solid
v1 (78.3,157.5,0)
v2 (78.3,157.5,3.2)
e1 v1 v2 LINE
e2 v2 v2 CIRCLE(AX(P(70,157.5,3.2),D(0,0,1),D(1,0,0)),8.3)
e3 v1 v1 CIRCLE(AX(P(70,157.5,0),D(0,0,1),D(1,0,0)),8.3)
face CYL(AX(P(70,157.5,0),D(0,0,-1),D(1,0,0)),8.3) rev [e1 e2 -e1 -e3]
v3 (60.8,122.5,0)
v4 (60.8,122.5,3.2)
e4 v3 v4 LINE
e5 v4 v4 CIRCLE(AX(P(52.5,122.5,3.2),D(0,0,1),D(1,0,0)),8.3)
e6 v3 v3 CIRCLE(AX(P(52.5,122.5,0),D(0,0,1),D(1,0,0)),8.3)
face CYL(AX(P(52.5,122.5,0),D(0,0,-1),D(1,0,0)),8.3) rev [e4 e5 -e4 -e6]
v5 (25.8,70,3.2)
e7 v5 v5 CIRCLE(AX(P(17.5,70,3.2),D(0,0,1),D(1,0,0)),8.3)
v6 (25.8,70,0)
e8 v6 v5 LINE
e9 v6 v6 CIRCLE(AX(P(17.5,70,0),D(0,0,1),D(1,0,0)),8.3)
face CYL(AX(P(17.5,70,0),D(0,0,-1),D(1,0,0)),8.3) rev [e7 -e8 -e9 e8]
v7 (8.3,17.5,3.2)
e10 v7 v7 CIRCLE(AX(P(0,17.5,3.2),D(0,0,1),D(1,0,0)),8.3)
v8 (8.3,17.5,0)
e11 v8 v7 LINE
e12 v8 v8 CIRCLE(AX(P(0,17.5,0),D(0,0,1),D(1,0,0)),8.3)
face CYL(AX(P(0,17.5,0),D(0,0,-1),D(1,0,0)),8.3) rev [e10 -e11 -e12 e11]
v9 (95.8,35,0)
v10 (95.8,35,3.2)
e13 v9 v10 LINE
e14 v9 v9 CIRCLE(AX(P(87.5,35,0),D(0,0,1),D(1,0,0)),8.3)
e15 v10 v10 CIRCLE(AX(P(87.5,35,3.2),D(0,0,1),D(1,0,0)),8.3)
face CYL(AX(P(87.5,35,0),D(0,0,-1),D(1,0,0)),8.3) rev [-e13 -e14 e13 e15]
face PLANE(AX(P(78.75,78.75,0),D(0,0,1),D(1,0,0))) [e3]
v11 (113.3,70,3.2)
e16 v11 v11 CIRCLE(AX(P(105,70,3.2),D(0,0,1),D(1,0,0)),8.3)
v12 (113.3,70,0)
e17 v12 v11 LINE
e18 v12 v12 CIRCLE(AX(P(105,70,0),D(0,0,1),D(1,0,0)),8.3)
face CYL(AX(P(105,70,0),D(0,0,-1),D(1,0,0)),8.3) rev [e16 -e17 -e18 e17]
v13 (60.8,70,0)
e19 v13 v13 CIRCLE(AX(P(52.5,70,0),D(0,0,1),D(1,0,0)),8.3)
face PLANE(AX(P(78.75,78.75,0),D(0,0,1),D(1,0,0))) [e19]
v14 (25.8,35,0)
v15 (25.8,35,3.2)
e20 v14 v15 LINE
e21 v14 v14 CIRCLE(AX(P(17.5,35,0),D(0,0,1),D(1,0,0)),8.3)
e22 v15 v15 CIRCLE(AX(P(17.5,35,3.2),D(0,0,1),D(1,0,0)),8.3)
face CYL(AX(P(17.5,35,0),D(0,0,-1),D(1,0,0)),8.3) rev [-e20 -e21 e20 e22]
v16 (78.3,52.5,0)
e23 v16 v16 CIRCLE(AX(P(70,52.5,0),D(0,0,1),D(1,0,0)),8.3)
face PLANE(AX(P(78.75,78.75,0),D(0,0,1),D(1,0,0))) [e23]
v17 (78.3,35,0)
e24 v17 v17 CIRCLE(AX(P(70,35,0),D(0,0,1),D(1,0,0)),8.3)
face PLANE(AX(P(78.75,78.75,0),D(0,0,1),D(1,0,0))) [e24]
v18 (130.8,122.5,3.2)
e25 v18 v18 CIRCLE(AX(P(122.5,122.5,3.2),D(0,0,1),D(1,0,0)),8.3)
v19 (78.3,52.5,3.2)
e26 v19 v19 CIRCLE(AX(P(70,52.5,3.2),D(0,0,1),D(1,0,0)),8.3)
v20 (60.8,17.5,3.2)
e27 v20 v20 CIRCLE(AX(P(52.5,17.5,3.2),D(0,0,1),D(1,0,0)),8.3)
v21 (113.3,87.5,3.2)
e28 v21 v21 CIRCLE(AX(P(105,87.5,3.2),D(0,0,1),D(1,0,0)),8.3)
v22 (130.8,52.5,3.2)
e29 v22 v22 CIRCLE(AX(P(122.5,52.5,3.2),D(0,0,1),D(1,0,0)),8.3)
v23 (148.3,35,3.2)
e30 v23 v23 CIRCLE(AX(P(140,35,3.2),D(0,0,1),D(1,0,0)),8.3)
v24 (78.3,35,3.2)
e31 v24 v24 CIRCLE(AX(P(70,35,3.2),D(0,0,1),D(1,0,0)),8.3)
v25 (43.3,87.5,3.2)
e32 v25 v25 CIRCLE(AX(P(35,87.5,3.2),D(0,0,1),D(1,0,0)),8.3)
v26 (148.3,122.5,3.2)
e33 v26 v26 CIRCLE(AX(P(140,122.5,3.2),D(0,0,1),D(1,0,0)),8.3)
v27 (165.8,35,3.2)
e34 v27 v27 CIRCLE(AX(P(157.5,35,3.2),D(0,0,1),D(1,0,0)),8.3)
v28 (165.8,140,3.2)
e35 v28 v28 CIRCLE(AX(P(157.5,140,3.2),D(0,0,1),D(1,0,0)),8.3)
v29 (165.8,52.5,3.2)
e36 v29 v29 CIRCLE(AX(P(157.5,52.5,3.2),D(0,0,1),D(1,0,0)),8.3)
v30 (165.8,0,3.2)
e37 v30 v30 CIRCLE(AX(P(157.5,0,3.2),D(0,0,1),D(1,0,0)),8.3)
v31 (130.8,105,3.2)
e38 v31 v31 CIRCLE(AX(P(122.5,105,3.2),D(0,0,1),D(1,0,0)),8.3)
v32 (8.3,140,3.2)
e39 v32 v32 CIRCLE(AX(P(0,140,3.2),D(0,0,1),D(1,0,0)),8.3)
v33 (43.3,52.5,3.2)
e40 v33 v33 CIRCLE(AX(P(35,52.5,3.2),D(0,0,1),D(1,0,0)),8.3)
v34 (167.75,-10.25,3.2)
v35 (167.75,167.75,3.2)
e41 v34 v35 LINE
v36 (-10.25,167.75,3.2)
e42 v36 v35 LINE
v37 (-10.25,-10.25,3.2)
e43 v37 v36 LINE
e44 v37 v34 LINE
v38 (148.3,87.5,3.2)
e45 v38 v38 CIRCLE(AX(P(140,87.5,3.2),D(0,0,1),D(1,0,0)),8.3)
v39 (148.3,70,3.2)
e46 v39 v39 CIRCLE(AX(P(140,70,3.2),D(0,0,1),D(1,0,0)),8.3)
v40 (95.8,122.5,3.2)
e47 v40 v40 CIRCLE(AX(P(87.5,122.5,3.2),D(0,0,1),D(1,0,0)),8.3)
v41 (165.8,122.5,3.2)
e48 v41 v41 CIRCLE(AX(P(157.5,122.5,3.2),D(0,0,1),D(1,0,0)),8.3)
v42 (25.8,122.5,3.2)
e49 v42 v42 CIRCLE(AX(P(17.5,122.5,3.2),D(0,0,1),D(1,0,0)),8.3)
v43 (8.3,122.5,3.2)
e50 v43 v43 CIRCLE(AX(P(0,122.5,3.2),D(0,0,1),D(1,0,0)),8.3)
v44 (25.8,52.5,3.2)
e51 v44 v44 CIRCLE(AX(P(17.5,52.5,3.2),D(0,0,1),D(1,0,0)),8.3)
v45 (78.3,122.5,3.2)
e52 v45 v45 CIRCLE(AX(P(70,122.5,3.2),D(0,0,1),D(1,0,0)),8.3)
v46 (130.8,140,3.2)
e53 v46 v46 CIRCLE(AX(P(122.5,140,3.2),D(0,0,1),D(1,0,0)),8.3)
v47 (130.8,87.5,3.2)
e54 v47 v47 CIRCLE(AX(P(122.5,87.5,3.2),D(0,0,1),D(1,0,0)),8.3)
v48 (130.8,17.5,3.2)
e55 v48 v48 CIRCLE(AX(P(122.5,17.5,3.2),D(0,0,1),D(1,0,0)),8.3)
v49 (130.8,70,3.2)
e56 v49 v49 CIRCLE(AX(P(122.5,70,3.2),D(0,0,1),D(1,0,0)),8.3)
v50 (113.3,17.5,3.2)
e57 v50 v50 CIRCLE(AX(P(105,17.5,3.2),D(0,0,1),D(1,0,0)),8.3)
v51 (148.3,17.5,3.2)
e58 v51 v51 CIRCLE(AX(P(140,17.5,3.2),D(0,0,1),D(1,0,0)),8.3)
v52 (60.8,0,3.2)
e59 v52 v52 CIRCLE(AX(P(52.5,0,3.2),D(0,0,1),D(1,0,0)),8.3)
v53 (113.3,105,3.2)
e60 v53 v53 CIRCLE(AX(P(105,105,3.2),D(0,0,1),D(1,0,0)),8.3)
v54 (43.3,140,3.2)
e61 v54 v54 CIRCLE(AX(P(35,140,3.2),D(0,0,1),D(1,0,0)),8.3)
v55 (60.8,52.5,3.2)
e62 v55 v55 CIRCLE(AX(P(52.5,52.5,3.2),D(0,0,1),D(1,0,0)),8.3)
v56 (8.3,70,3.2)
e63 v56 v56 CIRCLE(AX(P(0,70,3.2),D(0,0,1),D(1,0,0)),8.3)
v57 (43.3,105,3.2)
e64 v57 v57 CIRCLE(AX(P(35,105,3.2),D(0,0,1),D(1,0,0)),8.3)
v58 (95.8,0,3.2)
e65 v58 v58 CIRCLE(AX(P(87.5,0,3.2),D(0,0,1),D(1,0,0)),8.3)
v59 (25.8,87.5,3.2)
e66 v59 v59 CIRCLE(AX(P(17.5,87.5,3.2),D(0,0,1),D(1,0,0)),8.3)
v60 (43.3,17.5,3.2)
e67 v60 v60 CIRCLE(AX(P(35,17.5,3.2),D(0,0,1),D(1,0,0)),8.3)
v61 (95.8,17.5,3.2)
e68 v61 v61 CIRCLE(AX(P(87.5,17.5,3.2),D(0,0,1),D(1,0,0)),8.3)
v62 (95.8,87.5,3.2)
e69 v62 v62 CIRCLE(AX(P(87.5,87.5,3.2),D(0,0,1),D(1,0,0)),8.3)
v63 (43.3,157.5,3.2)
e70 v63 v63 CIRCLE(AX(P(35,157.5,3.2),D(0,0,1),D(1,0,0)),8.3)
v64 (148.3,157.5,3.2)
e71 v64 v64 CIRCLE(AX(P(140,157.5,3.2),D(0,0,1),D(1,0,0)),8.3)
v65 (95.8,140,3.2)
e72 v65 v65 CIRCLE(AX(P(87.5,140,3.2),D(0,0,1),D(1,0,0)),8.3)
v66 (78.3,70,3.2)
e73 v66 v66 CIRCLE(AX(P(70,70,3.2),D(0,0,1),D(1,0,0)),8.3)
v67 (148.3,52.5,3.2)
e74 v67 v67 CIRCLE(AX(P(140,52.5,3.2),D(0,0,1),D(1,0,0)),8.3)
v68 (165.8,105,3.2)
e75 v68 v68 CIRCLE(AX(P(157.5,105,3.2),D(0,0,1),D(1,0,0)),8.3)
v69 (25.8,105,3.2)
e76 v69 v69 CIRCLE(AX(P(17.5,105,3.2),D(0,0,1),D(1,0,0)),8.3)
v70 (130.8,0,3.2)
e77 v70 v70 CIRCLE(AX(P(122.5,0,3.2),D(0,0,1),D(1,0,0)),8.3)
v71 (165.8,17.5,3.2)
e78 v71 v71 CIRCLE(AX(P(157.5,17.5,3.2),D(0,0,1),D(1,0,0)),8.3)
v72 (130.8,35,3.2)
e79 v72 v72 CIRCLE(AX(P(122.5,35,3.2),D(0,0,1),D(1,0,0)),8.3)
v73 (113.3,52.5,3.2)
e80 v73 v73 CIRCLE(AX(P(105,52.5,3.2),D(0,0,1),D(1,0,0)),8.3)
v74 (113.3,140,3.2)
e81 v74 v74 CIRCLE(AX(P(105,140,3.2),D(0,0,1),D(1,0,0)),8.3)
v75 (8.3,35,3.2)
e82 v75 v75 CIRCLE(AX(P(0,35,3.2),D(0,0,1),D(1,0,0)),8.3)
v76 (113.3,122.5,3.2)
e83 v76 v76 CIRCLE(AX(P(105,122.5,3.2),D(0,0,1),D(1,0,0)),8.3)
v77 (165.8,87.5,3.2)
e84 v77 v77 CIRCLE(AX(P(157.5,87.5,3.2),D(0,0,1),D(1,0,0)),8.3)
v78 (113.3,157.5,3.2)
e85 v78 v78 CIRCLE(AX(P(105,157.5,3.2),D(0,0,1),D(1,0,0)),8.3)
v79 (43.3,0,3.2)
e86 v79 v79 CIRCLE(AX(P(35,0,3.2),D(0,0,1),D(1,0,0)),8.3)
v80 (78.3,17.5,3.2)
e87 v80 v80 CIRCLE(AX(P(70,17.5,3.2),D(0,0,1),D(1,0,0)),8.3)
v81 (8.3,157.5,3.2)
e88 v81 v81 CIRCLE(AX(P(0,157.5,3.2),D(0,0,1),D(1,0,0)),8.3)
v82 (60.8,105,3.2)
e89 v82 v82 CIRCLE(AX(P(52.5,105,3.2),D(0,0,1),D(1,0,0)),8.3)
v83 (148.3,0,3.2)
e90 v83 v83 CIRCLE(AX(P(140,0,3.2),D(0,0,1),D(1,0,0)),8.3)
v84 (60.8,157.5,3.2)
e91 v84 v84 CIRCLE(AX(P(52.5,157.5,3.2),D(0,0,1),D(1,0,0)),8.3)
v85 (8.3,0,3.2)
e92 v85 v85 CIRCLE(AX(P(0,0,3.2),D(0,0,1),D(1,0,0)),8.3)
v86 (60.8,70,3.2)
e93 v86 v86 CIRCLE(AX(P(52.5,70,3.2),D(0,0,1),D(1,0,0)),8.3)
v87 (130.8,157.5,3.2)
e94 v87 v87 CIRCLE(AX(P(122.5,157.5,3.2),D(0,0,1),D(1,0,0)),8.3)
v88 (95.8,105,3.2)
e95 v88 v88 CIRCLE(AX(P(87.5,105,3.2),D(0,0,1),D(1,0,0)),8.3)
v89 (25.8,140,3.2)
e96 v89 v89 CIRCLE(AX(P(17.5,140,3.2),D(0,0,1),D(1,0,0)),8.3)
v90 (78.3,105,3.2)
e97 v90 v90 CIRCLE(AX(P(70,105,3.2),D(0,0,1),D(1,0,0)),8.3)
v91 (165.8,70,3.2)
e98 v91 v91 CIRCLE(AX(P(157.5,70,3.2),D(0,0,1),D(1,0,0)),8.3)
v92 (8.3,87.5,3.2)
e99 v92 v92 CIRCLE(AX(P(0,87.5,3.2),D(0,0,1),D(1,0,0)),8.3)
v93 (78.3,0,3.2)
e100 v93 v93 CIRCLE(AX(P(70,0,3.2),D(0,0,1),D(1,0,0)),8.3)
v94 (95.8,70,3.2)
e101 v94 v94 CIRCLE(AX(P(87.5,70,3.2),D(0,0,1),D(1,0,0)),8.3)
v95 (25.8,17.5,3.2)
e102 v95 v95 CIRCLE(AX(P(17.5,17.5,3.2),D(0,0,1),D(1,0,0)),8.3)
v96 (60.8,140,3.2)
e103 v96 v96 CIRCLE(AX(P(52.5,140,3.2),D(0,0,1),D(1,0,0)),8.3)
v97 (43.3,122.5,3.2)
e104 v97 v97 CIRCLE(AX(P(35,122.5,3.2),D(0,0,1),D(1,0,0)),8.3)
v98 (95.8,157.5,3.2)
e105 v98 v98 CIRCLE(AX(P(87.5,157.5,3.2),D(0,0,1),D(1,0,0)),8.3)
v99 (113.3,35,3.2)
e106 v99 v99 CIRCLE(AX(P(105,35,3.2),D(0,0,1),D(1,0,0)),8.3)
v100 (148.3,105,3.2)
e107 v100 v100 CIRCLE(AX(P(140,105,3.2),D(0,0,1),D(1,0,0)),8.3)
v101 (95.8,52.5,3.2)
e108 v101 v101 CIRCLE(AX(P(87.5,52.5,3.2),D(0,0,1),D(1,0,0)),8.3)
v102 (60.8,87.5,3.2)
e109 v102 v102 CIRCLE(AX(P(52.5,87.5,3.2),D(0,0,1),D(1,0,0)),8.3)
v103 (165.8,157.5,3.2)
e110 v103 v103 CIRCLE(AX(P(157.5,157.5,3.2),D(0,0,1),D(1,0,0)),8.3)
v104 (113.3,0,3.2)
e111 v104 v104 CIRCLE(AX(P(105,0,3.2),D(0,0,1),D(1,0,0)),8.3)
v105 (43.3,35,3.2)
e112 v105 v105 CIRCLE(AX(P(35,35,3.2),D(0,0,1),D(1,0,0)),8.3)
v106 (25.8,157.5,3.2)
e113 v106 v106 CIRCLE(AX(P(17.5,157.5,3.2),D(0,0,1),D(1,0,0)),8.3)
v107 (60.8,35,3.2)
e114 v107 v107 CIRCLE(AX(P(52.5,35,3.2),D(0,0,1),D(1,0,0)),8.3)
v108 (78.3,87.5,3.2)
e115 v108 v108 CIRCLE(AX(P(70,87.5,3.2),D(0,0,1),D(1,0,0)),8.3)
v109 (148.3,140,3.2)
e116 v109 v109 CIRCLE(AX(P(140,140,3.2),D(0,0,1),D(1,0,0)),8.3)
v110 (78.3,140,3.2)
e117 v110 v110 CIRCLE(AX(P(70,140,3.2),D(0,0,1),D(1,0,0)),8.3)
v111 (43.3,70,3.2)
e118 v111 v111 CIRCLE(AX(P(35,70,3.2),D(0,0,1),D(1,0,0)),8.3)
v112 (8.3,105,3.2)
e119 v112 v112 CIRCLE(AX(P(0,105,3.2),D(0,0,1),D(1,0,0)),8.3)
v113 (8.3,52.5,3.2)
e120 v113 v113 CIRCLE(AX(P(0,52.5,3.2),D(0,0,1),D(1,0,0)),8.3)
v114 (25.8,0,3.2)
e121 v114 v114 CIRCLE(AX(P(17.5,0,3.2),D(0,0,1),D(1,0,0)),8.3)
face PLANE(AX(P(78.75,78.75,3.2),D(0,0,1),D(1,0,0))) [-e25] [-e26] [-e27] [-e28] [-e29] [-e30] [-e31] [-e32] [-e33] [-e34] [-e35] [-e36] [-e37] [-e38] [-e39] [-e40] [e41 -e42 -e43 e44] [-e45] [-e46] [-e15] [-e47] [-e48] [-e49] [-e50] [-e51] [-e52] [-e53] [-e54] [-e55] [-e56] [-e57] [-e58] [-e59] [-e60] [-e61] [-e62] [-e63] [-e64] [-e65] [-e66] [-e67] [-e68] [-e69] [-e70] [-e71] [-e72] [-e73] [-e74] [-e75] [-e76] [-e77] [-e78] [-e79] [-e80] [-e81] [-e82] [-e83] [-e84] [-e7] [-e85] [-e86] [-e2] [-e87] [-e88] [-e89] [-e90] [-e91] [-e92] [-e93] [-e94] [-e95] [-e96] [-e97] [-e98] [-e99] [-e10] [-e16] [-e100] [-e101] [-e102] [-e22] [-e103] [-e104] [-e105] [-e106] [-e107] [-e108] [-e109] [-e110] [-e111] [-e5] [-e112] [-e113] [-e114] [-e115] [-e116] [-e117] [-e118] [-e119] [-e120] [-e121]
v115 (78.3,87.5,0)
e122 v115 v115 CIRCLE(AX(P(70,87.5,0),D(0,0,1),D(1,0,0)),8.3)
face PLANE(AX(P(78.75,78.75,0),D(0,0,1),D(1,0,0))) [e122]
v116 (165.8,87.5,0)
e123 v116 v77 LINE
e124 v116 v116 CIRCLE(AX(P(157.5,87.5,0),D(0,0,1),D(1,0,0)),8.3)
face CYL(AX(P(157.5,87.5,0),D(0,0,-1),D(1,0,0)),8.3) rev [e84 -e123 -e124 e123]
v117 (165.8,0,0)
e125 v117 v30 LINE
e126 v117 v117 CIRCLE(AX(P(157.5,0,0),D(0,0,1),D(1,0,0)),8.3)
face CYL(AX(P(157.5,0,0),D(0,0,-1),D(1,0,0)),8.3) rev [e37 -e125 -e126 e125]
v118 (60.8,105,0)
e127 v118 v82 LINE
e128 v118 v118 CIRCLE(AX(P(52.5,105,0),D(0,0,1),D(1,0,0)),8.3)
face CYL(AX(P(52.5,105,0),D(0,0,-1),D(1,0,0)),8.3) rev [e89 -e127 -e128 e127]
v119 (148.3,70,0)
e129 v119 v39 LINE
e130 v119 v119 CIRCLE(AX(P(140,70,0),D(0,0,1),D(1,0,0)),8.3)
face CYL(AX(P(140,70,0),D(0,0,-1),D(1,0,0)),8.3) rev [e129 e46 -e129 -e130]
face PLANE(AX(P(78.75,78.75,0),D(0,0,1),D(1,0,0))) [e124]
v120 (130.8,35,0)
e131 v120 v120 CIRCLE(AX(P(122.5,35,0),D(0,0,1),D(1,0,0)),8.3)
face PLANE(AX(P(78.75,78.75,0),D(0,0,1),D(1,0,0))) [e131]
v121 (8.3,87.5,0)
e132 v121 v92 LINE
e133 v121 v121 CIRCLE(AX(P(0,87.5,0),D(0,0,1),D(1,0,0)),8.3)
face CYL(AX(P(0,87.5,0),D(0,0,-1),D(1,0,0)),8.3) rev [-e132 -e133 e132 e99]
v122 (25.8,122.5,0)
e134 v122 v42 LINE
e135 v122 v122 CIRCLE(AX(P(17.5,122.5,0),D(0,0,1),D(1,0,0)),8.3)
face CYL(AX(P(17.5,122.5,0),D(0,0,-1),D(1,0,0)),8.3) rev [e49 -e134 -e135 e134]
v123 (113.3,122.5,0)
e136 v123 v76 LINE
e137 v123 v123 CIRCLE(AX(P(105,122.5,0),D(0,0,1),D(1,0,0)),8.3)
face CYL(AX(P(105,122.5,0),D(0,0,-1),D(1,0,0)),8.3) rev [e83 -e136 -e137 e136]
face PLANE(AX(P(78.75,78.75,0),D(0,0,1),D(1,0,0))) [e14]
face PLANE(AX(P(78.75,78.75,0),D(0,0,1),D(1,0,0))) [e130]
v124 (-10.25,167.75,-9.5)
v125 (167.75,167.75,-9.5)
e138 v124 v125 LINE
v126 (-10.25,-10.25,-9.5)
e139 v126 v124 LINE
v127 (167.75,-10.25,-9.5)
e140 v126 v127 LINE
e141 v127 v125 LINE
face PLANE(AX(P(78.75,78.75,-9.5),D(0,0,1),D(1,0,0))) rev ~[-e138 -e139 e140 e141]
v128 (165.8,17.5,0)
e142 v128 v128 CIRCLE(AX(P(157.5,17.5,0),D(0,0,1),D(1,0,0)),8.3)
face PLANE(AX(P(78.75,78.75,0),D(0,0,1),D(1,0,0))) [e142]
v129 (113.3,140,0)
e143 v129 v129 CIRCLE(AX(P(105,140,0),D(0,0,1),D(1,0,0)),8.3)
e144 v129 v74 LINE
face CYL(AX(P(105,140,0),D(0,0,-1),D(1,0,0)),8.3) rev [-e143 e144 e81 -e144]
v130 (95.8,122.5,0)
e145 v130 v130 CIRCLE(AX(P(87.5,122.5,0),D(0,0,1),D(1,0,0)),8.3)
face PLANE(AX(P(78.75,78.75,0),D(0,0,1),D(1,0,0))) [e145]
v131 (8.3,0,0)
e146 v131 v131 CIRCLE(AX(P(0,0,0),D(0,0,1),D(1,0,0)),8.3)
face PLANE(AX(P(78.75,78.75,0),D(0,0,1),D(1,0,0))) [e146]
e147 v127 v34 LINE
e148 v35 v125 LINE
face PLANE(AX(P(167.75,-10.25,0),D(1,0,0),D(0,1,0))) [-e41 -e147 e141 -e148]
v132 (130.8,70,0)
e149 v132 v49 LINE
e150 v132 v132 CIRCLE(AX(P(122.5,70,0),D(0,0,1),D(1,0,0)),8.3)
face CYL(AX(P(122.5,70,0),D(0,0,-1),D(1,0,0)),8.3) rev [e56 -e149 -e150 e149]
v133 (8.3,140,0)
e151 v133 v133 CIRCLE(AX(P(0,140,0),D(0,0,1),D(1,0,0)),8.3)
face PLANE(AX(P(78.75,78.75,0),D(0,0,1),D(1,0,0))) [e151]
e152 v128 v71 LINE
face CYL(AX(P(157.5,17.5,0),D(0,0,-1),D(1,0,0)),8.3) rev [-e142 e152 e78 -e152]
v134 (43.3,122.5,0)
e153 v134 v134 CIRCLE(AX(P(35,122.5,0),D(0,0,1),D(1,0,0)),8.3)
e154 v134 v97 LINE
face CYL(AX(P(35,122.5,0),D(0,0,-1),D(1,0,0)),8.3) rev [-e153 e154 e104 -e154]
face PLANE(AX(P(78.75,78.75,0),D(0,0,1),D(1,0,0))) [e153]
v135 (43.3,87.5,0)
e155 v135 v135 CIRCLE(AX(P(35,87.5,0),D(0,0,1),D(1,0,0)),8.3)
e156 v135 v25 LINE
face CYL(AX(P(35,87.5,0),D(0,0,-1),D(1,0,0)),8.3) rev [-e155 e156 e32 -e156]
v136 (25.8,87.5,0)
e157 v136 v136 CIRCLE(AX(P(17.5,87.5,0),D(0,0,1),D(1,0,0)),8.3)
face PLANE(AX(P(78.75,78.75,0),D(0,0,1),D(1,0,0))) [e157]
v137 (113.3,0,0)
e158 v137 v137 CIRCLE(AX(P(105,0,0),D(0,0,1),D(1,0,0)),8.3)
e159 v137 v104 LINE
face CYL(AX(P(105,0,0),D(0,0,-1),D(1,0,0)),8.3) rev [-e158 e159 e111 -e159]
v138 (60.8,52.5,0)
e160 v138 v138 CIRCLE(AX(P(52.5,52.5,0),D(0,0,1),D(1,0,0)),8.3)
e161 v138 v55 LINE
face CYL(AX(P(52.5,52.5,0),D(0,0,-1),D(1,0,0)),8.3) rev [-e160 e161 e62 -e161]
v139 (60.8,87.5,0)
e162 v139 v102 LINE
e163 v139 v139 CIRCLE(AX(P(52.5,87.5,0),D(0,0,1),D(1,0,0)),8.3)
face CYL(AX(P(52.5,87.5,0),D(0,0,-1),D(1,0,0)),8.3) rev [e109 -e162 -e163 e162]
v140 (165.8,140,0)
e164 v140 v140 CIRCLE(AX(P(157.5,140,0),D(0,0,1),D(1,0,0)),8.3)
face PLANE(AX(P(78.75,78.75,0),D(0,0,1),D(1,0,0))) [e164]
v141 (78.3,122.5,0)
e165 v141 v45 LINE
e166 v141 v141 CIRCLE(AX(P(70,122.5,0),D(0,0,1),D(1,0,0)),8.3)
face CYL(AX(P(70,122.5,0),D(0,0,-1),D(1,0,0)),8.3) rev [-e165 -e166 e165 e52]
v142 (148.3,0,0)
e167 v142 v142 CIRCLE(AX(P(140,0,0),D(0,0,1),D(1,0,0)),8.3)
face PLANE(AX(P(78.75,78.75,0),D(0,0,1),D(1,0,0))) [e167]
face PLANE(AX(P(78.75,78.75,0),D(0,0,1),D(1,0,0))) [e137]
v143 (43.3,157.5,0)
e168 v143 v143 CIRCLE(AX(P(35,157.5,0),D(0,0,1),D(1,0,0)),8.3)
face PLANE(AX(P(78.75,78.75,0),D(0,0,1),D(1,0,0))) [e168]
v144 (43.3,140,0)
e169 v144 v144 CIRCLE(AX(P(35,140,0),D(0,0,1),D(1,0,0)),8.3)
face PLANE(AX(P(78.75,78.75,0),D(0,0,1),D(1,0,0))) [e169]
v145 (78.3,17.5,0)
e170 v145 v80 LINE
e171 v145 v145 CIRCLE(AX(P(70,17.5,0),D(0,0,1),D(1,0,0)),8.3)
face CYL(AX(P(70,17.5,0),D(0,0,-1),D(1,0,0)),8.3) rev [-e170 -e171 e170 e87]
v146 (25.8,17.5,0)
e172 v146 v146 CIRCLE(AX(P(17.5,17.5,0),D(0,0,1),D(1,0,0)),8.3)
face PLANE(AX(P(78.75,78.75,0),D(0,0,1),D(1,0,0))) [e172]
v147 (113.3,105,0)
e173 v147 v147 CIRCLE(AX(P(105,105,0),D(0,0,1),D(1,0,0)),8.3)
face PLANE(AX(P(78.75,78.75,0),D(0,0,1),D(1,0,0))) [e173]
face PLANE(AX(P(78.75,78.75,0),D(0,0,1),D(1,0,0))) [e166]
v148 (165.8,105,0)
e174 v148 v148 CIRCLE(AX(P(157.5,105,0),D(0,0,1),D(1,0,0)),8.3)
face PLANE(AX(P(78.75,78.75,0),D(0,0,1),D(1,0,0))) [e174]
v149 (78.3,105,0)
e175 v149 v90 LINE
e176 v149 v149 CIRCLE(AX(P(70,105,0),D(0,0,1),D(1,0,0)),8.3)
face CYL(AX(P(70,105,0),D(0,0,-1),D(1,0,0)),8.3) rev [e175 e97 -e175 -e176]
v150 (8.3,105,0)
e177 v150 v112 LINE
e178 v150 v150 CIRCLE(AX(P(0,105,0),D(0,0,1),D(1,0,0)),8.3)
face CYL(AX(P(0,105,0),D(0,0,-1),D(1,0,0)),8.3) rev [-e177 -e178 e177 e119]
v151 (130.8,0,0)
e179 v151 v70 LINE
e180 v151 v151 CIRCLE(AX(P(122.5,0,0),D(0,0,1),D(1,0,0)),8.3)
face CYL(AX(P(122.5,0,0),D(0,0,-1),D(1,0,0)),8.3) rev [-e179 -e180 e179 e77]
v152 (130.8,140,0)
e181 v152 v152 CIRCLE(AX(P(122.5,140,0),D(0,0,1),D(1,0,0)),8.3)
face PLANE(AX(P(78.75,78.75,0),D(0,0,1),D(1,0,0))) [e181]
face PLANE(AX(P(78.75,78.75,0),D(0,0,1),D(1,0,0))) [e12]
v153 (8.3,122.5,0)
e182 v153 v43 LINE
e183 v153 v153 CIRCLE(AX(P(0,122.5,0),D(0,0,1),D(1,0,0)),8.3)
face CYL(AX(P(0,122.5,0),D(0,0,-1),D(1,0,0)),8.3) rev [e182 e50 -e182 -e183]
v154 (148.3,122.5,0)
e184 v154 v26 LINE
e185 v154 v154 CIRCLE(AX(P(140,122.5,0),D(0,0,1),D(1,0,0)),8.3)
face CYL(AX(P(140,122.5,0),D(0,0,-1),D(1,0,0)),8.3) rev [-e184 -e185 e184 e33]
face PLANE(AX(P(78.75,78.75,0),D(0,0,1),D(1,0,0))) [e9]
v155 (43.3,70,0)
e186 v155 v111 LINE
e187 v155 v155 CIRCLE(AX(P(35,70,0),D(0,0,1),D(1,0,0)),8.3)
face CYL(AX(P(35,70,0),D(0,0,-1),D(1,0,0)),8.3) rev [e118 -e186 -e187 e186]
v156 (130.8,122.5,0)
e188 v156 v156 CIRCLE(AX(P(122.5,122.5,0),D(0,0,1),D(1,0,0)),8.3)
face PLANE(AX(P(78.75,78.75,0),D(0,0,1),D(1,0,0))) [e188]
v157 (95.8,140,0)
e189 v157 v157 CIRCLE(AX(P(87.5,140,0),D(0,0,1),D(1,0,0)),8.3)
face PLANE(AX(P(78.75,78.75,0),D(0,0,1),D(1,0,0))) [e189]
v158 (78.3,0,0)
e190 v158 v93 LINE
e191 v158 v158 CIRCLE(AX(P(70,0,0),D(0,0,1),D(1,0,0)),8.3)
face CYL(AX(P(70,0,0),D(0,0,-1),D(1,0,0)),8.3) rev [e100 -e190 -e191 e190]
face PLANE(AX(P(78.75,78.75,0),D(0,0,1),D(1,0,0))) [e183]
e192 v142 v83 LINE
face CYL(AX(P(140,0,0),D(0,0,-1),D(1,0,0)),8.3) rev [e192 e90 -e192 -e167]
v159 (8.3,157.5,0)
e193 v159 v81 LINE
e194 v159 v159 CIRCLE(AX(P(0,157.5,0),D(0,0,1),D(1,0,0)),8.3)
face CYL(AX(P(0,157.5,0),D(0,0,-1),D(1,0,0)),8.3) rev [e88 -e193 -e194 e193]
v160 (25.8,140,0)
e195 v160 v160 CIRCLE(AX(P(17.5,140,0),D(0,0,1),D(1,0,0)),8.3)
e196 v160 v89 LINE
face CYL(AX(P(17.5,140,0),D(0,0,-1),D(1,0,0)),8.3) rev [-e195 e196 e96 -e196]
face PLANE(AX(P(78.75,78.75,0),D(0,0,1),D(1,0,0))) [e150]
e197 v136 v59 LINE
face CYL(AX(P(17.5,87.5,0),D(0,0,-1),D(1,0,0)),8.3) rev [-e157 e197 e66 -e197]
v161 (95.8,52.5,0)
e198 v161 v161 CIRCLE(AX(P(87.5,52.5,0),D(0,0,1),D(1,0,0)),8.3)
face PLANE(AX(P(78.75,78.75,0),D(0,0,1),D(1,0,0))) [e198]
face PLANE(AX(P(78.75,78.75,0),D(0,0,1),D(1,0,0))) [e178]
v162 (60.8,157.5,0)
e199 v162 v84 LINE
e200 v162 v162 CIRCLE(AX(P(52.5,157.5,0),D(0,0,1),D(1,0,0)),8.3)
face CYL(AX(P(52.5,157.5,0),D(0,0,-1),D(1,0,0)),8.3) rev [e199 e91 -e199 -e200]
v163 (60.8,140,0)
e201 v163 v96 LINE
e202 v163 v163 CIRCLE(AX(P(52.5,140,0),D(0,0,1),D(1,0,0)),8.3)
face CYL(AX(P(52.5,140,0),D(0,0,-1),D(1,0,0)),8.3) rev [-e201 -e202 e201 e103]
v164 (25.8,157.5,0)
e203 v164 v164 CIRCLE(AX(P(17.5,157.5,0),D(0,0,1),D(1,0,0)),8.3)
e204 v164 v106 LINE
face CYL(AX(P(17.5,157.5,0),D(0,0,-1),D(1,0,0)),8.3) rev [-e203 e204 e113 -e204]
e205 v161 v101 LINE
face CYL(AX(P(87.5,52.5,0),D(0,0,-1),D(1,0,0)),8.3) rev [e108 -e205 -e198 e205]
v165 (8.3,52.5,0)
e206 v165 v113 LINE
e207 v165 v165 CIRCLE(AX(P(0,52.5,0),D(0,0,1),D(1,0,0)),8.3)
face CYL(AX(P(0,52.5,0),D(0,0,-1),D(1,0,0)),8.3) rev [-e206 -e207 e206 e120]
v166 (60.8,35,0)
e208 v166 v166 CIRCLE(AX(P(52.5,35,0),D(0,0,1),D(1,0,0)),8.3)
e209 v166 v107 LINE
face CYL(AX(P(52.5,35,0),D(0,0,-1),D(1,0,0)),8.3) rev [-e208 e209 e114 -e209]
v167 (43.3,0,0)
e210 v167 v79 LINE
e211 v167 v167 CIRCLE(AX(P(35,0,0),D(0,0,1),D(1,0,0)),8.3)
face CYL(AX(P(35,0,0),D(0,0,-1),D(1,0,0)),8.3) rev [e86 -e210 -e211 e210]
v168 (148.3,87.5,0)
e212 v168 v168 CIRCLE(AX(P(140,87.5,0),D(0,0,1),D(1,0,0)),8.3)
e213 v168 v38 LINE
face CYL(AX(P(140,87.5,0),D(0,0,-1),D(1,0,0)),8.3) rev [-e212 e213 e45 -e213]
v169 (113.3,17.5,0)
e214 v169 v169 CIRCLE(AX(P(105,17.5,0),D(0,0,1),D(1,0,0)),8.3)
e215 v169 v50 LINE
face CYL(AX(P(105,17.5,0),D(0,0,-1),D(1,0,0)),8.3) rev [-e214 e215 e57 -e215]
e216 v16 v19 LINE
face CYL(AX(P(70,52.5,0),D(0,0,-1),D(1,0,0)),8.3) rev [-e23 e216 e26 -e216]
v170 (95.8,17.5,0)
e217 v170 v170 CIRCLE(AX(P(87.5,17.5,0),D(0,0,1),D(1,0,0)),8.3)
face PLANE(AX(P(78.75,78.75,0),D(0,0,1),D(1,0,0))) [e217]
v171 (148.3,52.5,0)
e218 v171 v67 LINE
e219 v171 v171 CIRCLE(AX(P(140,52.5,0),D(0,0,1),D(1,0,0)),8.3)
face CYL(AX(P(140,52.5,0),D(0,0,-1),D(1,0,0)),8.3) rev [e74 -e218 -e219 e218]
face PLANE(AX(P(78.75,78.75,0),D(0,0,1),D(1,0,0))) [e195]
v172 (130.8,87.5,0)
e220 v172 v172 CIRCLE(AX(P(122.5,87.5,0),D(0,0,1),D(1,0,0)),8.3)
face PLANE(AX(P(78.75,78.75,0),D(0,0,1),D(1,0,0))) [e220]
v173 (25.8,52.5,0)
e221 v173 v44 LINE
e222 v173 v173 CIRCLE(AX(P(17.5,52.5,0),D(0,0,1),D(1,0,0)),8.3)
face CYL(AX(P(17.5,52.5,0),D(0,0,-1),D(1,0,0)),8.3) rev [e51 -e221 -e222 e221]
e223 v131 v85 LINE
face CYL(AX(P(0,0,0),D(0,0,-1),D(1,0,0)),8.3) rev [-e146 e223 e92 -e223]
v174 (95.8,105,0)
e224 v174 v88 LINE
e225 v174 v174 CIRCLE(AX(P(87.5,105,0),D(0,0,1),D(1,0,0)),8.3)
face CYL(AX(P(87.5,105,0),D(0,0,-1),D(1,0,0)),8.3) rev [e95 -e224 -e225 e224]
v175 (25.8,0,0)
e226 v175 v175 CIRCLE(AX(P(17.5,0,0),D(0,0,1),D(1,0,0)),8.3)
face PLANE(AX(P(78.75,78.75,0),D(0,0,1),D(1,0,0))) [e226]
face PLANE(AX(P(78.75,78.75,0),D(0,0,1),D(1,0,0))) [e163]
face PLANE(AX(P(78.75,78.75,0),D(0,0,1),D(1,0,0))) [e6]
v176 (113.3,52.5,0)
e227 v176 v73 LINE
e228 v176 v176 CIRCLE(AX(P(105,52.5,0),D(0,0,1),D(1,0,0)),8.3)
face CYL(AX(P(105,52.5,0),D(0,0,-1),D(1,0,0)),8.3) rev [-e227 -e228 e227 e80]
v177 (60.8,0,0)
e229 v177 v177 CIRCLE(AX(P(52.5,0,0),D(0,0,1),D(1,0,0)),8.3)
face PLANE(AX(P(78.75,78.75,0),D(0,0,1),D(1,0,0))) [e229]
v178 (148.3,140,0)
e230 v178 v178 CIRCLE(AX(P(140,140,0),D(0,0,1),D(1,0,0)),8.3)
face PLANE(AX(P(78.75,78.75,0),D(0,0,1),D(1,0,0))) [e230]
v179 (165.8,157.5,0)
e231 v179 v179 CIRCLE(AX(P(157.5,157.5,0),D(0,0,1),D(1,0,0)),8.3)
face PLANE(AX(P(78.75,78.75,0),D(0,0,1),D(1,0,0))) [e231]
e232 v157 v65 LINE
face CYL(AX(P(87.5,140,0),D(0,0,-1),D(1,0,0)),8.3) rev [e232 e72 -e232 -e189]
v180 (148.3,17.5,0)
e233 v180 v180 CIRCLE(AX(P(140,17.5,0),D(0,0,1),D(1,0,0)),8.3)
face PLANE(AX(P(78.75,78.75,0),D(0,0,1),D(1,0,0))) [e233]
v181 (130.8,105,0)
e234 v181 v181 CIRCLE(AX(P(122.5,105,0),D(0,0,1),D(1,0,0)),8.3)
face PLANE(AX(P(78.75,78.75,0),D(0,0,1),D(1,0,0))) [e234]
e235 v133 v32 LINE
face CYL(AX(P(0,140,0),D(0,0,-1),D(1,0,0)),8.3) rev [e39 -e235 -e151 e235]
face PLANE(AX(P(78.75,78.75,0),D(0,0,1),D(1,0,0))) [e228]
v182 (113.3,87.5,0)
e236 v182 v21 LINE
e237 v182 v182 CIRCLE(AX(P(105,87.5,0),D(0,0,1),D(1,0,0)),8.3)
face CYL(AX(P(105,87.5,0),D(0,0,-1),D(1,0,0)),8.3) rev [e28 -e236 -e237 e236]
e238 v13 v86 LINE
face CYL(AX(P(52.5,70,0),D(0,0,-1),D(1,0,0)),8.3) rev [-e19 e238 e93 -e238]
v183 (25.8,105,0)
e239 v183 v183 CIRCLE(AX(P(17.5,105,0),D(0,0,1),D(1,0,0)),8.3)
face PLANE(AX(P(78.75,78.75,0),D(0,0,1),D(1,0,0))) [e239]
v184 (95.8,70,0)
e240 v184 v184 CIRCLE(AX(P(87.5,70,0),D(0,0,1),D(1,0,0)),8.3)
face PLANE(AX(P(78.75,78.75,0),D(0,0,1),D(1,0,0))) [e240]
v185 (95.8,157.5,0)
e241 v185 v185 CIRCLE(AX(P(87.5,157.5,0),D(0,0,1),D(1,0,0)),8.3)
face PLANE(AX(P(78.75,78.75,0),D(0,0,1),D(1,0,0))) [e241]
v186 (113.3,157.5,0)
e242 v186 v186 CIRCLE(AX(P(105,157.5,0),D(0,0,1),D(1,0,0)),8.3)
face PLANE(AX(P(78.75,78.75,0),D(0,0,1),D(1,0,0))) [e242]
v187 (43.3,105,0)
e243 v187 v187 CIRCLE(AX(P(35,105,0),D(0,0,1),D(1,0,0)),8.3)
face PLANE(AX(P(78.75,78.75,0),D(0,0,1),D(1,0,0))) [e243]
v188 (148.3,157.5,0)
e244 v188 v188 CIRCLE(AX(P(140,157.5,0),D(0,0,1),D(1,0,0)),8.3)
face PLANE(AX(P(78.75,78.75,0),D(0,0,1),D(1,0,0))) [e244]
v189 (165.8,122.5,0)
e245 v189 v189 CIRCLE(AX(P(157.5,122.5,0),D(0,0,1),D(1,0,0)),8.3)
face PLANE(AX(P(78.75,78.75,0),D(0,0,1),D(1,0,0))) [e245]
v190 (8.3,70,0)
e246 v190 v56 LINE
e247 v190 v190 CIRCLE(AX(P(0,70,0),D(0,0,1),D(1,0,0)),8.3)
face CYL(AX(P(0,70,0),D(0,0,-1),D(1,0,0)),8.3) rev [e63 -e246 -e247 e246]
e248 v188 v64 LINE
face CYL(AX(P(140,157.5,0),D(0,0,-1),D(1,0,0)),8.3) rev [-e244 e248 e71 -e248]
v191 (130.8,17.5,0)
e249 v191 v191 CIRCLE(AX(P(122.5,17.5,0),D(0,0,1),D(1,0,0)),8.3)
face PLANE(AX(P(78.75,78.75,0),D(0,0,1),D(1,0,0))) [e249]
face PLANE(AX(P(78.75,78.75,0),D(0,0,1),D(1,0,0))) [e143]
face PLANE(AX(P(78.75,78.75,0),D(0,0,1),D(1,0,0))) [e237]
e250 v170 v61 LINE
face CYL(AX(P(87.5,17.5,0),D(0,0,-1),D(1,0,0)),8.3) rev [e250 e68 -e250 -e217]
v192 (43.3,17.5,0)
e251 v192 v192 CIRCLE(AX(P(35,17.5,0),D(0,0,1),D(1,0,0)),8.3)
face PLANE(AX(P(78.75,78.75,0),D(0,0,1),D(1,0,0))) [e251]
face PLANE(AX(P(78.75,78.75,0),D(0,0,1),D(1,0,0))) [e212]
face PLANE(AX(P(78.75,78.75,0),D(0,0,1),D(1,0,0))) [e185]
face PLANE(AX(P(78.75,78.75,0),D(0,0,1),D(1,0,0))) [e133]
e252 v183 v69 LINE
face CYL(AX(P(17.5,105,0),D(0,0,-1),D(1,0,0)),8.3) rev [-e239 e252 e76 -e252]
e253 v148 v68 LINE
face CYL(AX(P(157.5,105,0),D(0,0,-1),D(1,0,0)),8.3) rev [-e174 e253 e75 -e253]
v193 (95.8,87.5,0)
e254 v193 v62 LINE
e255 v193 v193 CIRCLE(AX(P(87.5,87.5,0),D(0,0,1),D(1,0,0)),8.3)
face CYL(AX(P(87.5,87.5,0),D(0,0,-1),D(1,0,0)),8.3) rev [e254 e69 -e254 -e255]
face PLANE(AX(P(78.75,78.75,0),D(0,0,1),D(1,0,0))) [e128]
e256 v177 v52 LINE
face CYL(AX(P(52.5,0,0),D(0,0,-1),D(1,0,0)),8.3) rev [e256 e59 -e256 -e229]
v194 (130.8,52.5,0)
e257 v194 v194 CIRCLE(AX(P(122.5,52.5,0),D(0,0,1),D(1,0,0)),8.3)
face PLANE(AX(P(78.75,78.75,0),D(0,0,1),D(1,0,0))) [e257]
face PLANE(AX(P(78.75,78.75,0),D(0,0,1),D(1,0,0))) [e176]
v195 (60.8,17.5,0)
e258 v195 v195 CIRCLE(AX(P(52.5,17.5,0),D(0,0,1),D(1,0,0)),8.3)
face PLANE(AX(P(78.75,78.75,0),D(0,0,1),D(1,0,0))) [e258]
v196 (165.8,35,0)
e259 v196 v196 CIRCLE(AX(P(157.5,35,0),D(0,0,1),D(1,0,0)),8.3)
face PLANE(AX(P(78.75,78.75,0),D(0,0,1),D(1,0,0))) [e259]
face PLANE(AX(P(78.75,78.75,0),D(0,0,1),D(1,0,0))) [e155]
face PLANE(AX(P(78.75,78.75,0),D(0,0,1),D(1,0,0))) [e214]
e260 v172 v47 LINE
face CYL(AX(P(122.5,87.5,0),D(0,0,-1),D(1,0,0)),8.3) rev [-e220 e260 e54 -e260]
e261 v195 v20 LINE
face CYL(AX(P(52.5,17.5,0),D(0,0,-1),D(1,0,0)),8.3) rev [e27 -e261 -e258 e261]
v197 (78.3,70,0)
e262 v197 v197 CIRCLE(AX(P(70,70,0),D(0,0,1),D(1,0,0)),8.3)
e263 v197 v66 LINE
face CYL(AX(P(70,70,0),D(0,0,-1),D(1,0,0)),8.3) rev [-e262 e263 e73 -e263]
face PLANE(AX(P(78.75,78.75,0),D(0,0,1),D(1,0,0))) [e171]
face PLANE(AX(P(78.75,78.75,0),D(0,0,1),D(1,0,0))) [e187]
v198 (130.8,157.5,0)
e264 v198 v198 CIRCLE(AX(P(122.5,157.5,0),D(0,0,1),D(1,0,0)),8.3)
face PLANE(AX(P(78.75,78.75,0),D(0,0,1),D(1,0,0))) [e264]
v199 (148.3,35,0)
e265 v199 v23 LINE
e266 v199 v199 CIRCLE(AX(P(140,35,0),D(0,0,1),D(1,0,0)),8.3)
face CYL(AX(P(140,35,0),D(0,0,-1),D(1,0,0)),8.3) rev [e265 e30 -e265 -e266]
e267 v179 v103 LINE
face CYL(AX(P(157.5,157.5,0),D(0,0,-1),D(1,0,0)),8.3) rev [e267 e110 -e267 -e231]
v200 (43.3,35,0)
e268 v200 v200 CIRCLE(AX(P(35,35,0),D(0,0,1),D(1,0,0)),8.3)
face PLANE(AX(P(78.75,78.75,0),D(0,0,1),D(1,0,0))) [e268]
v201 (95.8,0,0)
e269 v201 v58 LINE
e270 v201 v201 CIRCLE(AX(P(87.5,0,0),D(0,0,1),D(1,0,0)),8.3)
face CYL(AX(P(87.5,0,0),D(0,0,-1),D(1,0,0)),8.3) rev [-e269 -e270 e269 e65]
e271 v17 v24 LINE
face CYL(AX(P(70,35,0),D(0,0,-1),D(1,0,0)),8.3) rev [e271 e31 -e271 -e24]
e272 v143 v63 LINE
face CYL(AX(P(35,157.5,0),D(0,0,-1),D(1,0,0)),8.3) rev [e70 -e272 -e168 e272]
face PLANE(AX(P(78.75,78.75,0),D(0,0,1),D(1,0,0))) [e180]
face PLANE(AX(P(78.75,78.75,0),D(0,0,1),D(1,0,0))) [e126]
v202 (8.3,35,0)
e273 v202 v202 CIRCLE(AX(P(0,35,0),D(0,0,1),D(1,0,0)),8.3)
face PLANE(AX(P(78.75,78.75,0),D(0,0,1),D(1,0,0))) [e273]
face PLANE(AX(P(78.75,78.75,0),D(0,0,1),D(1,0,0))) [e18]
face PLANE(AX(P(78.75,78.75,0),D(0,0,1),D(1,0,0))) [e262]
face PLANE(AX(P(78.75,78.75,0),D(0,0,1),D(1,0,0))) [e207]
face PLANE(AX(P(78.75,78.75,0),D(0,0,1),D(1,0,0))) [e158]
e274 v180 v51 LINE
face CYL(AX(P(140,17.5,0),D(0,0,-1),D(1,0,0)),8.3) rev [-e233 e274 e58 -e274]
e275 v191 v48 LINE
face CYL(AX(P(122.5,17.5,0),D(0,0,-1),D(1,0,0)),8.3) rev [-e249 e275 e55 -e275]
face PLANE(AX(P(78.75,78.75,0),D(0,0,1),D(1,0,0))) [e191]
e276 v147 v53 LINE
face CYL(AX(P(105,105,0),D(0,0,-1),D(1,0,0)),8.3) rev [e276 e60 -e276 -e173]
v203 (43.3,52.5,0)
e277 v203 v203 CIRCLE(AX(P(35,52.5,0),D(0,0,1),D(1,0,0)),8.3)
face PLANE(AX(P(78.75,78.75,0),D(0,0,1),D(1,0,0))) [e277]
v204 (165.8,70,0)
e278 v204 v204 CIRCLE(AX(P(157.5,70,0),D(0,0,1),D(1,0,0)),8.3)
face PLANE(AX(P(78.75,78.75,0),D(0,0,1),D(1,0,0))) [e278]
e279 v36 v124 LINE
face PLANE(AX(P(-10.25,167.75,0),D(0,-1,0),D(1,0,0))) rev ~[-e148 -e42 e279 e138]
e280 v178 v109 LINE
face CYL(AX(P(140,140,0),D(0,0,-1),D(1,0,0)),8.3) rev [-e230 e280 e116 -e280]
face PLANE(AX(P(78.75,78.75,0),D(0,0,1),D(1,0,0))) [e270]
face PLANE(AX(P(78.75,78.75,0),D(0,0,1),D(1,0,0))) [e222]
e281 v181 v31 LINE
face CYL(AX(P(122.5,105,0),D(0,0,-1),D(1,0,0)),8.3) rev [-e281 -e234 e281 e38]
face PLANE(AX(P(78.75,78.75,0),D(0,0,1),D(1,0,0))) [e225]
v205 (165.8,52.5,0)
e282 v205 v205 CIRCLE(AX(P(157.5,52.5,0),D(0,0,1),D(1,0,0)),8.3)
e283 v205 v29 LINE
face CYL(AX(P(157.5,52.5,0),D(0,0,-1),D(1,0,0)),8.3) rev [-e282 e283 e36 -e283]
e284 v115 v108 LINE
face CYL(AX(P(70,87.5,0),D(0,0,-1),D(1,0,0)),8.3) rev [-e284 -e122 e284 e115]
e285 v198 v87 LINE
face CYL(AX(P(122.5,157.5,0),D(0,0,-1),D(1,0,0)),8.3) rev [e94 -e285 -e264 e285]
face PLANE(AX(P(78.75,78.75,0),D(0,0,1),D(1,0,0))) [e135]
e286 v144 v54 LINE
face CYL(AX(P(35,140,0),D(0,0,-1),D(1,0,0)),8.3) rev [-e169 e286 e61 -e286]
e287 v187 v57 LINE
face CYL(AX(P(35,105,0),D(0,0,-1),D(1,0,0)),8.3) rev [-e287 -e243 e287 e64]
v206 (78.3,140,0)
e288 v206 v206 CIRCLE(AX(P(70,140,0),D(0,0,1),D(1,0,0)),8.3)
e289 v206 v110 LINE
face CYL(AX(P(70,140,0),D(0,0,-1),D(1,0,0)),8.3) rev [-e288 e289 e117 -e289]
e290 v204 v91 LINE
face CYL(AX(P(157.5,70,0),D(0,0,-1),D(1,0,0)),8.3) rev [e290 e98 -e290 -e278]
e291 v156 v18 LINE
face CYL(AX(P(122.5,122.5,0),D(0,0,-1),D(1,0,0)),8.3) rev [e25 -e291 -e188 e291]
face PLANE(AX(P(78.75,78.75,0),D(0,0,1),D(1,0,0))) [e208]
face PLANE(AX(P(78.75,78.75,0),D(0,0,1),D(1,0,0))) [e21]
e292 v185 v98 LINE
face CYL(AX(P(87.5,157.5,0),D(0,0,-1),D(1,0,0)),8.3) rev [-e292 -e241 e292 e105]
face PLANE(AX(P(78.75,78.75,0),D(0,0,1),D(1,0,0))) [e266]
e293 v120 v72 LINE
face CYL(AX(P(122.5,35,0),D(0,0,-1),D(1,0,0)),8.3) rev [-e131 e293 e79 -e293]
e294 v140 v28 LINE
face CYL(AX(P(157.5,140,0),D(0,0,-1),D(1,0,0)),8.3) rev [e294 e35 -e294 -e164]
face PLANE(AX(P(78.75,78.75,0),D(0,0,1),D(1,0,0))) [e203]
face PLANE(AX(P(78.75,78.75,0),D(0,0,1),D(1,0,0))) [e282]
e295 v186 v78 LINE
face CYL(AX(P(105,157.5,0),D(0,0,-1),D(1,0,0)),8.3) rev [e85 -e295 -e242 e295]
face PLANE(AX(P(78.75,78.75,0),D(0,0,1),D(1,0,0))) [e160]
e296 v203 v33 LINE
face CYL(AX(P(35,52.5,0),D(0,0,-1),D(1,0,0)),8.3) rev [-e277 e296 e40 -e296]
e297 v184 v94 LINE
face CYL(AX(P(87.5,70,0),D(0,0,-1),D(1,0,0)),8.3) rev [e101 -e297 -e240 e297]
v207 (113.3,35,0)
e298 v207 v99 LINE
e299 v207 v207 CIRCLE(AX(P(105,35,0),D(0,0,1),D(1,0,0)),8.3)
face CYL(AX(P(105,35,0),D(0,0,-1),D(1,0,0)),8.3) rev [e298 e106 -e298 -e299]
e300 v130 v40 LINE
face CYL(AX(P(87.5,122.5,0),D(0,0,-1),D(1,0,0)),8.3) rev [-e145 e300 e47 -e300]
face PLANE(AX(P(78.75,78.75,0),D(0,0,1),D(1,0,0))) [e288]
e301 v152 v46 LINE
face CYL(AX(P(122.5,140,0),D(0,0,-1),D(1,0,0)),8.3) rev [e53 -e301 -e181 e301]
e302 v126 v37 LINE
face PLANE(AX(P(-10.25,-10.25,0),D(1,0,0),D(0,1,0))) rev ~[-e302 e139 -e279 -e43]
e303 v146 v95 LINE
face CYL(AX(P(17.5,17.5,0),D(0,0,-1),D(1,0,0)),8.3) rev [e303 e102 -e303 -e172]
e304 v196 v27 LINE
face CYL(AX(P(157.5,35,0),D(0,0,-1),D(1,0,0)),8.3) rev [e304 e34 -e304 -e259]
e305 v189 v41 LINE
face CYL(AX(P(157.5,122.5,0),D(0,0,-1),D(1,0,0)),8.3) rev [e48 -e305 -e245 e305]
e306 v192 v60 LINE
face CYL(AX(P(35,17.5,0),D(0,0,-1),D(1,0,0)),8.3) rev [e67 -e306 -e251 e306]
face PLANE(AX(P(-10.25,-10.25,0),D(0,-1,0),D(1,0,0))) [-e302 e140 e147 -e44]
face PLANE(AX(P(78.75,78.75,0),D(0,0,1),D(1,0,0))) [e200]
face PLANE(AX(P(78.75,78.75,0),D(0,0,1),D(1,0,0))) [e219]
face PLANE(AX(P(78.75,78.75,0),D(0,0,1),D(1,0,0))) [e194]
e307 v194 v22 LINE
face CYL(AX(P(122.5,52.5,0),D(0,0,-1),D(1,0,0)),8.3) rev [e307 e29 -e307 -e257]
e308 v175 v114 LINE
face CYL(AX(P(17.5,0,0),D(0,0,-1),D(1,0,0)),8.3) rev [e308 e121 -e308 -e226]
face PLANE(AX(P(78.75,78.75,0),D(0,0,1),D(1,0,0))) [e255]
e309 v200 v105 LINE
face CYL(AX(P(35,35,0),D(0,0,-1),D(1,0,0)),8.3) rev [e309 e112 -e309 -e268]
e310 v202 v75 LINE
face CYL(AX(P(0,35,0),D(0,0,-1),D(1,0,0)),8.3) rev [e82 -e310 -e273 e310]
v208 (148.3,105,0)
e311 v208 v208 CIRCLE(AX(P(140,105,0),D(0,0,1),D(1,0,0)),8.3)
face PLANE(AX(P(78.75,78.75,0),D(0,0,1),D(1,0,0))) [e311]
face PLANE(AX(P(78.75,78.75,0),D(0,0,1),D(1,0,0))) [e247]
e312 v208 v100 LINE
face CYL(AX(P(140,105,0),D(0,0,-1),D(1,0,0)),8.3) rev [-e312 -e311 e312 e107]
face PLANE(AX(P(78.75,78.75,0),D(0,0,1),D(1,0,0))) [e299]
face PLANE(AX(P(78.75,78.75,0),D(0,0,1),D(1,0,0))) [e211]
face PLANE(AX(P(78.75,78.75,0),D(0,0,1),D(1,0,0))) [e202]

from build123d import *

# Parameters (mm, degrees)
F0_W     = 178
F0_H     = 178
F0_R     = 8.3
F1_DEPTH = 3.2
F2_W     = 178
F2_H     = 178
F3_DEPTH = 9.5


with BuildPart() as f1:
    # F0 (on Top) → F1 (new body)
    with BuildSketch(Plane.XY):
        with Locations((78.75, 78.75)):
            Rectangle(F0_W, F0_H)
        Circle(F0_R, mode=Mode.SUBTRACT)
        with Locations((17.5, 0)):
            Circle(F0_R, mode=Mode.SUBTRACT)
        with Locations((0, 17.5)):
            Circle(F0_R, mode=Mode.SUBTRACT)
        with Locations((17.5, 17.5)):
            Circle(F0_R, mode=Mode.SUBTRACT)
        with Locations((35, 0)):
            Circle(F0_R, mode=Mode.SUBTRACT)
        with Locations((52.5, 0)):
            Circle(F0_R, mode=Mode.SUBTRACT)
        with Locations((70, 0)):
            Circle(F0_R, mode=Mode.SUBTRACT)
        with Locations((35, 17.5)):
            Circle(F0_R, mode=Mode.SUBTRACT)
        with Locations((52.5, 17.5)):
            Circle(F0_R, mode=Mode.SUBTRACT)
        with Locations((70, 17.5)):
            Circle(F0_R, mode=Mode.SUBTRACT)
        with Locations((0, 35)):
            Circle(F0_R, mode=Mode.SUBTRACT)
        with Locations((0, 52.5)):
            Circle(F0_R, mode=Mode.SUBTRACT)
        with Locations((17.5, 35)):
            Circle(F0_R, mode=Mode.SUBTRACT)
        with Locations((17.5, 52.5)):
            Circle(F0_R, mode=Mode.SUBTRACT)
        with Locations((0, 70)):
            Circle(F0_R, mode=Mode.SUBTRACT)
        with Locations((17.5, 70)):
            Circle(F0_R, mode=Mode.SUBTRACT)
        with Locations((35, 35)):
            Circle(F0_R, mode=Mode.SUBTRACT)
        with Locations((52.5, 35)):
            Circle(F0_R, mode=Mode.SUBTRACT)
        with Locations((35, 52.5)):
            Circle(F0_R, mode=Mode.SUBTRACT)
        with Locations((52.5, 52.5)):
            Circle(F0_R, mode=Mode.SUBTRACT)
        with Locations((70, 35)):
            Circle(F0_R, mode=Mode.SUBTRACT)
        with Locations((70, 52.5)):
            Circle(F0_R, mode=Mode.SUBTRACT)
        with Locations((35, 70)):
            Circle(F0_R, mode=Mode.SUBTRACT)
        with Locations((52.5, 70)):
            Circle(F0_R, mode=Mode.SUBTRACT)
        with Locations((70, 70)):
            Circle(F0_R, mode=Mode.SUBTRACT)
        with Locations((87.5, 0)):
            Circle(F0_R, mode=Mode.SUBTRACT)
        with Locations((105, 0)):
            Circle(F0_R, mode=Mode.SUBTRACT)
        with Locations((122.5, 0)):
            Circle(F0_R, mode=Mode.SUBTRACT)
        with Locations((87.5, 17.5)):
            Circle(F0_R, mode=Mode.SUBTRACT)
        with Locations((105, 17.5)):
            Circle(F0_R, mode=Mode.SUBTRACT)
        with Locations((122.5, 17.5)):
            Circle(F0_R, mode=Mode.SUBTRACT)
        with Locations((140, 0)):
            Circle(F0_R, mode=Mode.SUBTRACT)
        with Locations((157.5, 0)):
            Circle(F0_R, mode=Mode.SUBTRACT)
        with Locations((140, 17.5)):
            Circle(F0_R, mode=Mode.SUBTRACT)
        with Locations((157.5, 17.5)):
            Circle(F0_R, mode=Mode.SUBTRACT)
        with Locations((87.5, 35)):
            Circle(F0_R, mode=Mode.SUBTRACT)
        with Locations((87.5, 52.5)):
            Circle(F0_R, mode=Mode.SUBTRACT)
        with Locations((105, 35)):
            Circle(F0_R, mode=Mode.SUBTRACT)
        with Locations((122.5, 35)):
            Circle(F0_R, mode=Mode.SUBTRACT)
        with Locations((105, 52.5)):
            Circle(F0_R, mode=Mode.SUBTRACT)
        with Locations((122.5, 52.5)):
            Circle(F0_R, mode=Mode.SUBTRACT)
        with Locations((87.5, 70)):
            Circle(F0_R, mode=Mode.SUBTRACT)
        with Locations((105, 70)):
            Circle(F0_R, mode=Mode.SUBTRACT)
        with Locations((122.5, 70)):
            Circle(F0_R, mode=Mode.SUBTRACT)
        with Locations((140, 35)):
            Circle(F0_R, mode=Mode.SUBTRACT)
        with Locations((140, 52.5)):
            Circle(F0_R, mode=Mode.SUBTRACT)
        with Locations((157.5, 35)):
            Circle(F0_R, mode=Mode.SUBTRACT)
        with Locations((157.5, 52.5)):
            Circle(F0_R, mode=Mode.SUBTRACT)
        with Locations((140, 70)):
            Circle(F0_R, mode=Mode.SUBTRACT)
        with Locations((157.5, 70)):
            Circle(F0_R, mode=Mode.SUBTRACT)
        with Locations((0, 87.5)):
            Circle(F0_R, mode=Mode.SUBTRACT)
        with Locations((17.5, 87.5)):
            Circle(F0_R, mode=Mode.SUBTRACT)
        with Locations((0, 105)):
            Circle(F0_R, mode=Mode.SUBTRACT)
        with Locations((0, 122.5)):
            Circle(F0_R, mode=Mode.SUBTRACT)
        with Locations((17.5, 105)):
            Circle(F0_R, mode=Mode.SUBTRACT)
        with Locations((17.5, 122.5)):
            Circle(F0_R, mode=Mode.SUBTRACT)
        with Locations((35, 87.5)):
            Circle(F0_R, mode=Mode.SUBTRACT)
        with Locations((52.5, 87.5)):
            Circle(F0_R, mode=Mode.SUBTRACT)
        with Locations((70, 87.5)):
            Circle(F0_R, mode=Mode.SUBTRACT)
        with Locations((35, 105)):
            Circle(F0_R, mode=Mode.SUBTRACT)
        with Locations((52.5, 105)):
            Circle(F0_R, mode=Mode.SUBTRACT)
        with Locations((35, 122.5)):
            Circle(F0_R, mode=Mode.SUBTRACT)
        with Locations((52.5, 122.5)):
            Circle(F0_R, mode=Mode.SUBTRACT)
        with Locations((70, 105)):
            Circle(F0_R, mode=Mode.SUBTRACT)
        with Locations((70, 122.5)):
            Circle(F0_R, mode=Mode.SUBTRACT)
        with Locations((0, 140)):
            Circle(F0_R, mode=Mode.SUBTRACT)
        with Locations((17.5, 140)):
            Circle(F0_R, mode=Mode.SUBTRACT)
        with Locations((0, 157.5)):
            Circle(F0_R, mode=Mode.SUBTRACT)
        with Locations((17.5, 157.5)):
            Circle(F0_R, mode=Mode.SUBTRACT)
        with Locations((35, 140)):
            Circle(F0_R, mode=Mode.SUBTRACT)
        with Locations((52.5, 140)):
            Circle(F0_R, mode=Mode.SUBTRACT)
        with Locations((70, 140)):
            Circle(F0_R, mode=Mode.SUBTRACT)
        with Locations((35, 157.5)):
            Circle(F0_R, mode=Mode.SUBTRACT)
        with Locations((52.5, 157.5)):
            Circle(F0_R, mode=Mode.SUBTRACT)
        with Locations((70, 157.5)):
            Circle(F0_R, mode=Mode.SUBTRACT)
        with Locations((87.5, 87.5)):
            Circle(F0_R, mode=Mode.SUBTRACT)
        with Locations((105, 87.5)):
            Circle(F0_R, mode=Mode.SUBTRACT)
        with Locations((122.5, 87.5)):
            Circle(F0_R, mode=Mode.SUBTRACT)
        with Locations((87.5, 105)):
            Circle(F0_R, mode=Mode.SUBTRACT)
        with Locations((87.5, 122.5)):
            Circle(F0_R, mode=Mode.SUBTRACT)
        with Locations((105, 105)):
            Circle(F0_R, mode=Mode.SUBTRACT)
        with Locations((122.5, 105)):
            Circle(F0_R, mode=Mode.SUBTRACT)
        with Locations((105, 122.5)):
            Circle(F0_R, mode=Mode.SUBTRACT)
        with Locations((122.5, 122.5)):
            Circle(F0_R, mode=Mode.SUBTRACT)
        with Locations((140, 87.5)):
            Circle(F0_R, mode=Mode.SUBTRACT)
        with Locations((157.5, 87.5)):
            Circle(F0_R, mode=Mode.SUBTRACT)
        with Locations((140, 105)):
            Circle(F0_R, mode=Mode.SUBTRACT)
        with Locations((140, 122.5)):
            Circle(F0_R, mode=Mode.SUBTRACT)
        with Locations((157.5, 105)):
            Circle(F0_R, mode=Mode.SUBTRACT)
        with Locations((157.5, 122.5)):
            Circle(F0_R, mode=Mode.SUBTRACT)
        with Locations((87.5, 140)):
            Circle(F0_R, mode=Mode.SUBTRACT)
        with Locations((105, 140)):
            Circle(F0_R, mode=Mode.SUBTRACT)
        with Locations((122.5, 140)):
            Circle(F0_R, mode=Mode.SUBTRACT)
        with Locations((87.5, 157.5)):
            Circle(F0_R, mode=Mode.SUBTRACT)
        with Locations((105, 157.5)):
            Circle(F0_R, mode=Mode.SUBTRACT)
        with Locations((122.5, 157.5)):
            Circle(F0_R, mode=Mode.SUBTRACT)
        with Locations((140, 140)):
            Circle(F0_R, mode=Mode.SUBTRACT)
        with Locations((157.5, 140)):
            Circle(F0_R, mode=Mode.SUBTRACT)
        with Locations((140, 157.5)):
            Circle(F0_R, mode=Mode.SUBTRACT)
        with Locations((157.5, 157.5)):
            Circle(F0_R, mode=Mode.SUBTRACT)
    extrude(amount=F1_DEPTH)

    # F2 (on Top) → F3 (join)
    with BuildSketch(Plane.XY):
        with Locations((78.75, 78.75)):
            Rectangle(F2_W, F2_H)
    extrude(amount=-F3_DEPTH)


solid = f1.part
